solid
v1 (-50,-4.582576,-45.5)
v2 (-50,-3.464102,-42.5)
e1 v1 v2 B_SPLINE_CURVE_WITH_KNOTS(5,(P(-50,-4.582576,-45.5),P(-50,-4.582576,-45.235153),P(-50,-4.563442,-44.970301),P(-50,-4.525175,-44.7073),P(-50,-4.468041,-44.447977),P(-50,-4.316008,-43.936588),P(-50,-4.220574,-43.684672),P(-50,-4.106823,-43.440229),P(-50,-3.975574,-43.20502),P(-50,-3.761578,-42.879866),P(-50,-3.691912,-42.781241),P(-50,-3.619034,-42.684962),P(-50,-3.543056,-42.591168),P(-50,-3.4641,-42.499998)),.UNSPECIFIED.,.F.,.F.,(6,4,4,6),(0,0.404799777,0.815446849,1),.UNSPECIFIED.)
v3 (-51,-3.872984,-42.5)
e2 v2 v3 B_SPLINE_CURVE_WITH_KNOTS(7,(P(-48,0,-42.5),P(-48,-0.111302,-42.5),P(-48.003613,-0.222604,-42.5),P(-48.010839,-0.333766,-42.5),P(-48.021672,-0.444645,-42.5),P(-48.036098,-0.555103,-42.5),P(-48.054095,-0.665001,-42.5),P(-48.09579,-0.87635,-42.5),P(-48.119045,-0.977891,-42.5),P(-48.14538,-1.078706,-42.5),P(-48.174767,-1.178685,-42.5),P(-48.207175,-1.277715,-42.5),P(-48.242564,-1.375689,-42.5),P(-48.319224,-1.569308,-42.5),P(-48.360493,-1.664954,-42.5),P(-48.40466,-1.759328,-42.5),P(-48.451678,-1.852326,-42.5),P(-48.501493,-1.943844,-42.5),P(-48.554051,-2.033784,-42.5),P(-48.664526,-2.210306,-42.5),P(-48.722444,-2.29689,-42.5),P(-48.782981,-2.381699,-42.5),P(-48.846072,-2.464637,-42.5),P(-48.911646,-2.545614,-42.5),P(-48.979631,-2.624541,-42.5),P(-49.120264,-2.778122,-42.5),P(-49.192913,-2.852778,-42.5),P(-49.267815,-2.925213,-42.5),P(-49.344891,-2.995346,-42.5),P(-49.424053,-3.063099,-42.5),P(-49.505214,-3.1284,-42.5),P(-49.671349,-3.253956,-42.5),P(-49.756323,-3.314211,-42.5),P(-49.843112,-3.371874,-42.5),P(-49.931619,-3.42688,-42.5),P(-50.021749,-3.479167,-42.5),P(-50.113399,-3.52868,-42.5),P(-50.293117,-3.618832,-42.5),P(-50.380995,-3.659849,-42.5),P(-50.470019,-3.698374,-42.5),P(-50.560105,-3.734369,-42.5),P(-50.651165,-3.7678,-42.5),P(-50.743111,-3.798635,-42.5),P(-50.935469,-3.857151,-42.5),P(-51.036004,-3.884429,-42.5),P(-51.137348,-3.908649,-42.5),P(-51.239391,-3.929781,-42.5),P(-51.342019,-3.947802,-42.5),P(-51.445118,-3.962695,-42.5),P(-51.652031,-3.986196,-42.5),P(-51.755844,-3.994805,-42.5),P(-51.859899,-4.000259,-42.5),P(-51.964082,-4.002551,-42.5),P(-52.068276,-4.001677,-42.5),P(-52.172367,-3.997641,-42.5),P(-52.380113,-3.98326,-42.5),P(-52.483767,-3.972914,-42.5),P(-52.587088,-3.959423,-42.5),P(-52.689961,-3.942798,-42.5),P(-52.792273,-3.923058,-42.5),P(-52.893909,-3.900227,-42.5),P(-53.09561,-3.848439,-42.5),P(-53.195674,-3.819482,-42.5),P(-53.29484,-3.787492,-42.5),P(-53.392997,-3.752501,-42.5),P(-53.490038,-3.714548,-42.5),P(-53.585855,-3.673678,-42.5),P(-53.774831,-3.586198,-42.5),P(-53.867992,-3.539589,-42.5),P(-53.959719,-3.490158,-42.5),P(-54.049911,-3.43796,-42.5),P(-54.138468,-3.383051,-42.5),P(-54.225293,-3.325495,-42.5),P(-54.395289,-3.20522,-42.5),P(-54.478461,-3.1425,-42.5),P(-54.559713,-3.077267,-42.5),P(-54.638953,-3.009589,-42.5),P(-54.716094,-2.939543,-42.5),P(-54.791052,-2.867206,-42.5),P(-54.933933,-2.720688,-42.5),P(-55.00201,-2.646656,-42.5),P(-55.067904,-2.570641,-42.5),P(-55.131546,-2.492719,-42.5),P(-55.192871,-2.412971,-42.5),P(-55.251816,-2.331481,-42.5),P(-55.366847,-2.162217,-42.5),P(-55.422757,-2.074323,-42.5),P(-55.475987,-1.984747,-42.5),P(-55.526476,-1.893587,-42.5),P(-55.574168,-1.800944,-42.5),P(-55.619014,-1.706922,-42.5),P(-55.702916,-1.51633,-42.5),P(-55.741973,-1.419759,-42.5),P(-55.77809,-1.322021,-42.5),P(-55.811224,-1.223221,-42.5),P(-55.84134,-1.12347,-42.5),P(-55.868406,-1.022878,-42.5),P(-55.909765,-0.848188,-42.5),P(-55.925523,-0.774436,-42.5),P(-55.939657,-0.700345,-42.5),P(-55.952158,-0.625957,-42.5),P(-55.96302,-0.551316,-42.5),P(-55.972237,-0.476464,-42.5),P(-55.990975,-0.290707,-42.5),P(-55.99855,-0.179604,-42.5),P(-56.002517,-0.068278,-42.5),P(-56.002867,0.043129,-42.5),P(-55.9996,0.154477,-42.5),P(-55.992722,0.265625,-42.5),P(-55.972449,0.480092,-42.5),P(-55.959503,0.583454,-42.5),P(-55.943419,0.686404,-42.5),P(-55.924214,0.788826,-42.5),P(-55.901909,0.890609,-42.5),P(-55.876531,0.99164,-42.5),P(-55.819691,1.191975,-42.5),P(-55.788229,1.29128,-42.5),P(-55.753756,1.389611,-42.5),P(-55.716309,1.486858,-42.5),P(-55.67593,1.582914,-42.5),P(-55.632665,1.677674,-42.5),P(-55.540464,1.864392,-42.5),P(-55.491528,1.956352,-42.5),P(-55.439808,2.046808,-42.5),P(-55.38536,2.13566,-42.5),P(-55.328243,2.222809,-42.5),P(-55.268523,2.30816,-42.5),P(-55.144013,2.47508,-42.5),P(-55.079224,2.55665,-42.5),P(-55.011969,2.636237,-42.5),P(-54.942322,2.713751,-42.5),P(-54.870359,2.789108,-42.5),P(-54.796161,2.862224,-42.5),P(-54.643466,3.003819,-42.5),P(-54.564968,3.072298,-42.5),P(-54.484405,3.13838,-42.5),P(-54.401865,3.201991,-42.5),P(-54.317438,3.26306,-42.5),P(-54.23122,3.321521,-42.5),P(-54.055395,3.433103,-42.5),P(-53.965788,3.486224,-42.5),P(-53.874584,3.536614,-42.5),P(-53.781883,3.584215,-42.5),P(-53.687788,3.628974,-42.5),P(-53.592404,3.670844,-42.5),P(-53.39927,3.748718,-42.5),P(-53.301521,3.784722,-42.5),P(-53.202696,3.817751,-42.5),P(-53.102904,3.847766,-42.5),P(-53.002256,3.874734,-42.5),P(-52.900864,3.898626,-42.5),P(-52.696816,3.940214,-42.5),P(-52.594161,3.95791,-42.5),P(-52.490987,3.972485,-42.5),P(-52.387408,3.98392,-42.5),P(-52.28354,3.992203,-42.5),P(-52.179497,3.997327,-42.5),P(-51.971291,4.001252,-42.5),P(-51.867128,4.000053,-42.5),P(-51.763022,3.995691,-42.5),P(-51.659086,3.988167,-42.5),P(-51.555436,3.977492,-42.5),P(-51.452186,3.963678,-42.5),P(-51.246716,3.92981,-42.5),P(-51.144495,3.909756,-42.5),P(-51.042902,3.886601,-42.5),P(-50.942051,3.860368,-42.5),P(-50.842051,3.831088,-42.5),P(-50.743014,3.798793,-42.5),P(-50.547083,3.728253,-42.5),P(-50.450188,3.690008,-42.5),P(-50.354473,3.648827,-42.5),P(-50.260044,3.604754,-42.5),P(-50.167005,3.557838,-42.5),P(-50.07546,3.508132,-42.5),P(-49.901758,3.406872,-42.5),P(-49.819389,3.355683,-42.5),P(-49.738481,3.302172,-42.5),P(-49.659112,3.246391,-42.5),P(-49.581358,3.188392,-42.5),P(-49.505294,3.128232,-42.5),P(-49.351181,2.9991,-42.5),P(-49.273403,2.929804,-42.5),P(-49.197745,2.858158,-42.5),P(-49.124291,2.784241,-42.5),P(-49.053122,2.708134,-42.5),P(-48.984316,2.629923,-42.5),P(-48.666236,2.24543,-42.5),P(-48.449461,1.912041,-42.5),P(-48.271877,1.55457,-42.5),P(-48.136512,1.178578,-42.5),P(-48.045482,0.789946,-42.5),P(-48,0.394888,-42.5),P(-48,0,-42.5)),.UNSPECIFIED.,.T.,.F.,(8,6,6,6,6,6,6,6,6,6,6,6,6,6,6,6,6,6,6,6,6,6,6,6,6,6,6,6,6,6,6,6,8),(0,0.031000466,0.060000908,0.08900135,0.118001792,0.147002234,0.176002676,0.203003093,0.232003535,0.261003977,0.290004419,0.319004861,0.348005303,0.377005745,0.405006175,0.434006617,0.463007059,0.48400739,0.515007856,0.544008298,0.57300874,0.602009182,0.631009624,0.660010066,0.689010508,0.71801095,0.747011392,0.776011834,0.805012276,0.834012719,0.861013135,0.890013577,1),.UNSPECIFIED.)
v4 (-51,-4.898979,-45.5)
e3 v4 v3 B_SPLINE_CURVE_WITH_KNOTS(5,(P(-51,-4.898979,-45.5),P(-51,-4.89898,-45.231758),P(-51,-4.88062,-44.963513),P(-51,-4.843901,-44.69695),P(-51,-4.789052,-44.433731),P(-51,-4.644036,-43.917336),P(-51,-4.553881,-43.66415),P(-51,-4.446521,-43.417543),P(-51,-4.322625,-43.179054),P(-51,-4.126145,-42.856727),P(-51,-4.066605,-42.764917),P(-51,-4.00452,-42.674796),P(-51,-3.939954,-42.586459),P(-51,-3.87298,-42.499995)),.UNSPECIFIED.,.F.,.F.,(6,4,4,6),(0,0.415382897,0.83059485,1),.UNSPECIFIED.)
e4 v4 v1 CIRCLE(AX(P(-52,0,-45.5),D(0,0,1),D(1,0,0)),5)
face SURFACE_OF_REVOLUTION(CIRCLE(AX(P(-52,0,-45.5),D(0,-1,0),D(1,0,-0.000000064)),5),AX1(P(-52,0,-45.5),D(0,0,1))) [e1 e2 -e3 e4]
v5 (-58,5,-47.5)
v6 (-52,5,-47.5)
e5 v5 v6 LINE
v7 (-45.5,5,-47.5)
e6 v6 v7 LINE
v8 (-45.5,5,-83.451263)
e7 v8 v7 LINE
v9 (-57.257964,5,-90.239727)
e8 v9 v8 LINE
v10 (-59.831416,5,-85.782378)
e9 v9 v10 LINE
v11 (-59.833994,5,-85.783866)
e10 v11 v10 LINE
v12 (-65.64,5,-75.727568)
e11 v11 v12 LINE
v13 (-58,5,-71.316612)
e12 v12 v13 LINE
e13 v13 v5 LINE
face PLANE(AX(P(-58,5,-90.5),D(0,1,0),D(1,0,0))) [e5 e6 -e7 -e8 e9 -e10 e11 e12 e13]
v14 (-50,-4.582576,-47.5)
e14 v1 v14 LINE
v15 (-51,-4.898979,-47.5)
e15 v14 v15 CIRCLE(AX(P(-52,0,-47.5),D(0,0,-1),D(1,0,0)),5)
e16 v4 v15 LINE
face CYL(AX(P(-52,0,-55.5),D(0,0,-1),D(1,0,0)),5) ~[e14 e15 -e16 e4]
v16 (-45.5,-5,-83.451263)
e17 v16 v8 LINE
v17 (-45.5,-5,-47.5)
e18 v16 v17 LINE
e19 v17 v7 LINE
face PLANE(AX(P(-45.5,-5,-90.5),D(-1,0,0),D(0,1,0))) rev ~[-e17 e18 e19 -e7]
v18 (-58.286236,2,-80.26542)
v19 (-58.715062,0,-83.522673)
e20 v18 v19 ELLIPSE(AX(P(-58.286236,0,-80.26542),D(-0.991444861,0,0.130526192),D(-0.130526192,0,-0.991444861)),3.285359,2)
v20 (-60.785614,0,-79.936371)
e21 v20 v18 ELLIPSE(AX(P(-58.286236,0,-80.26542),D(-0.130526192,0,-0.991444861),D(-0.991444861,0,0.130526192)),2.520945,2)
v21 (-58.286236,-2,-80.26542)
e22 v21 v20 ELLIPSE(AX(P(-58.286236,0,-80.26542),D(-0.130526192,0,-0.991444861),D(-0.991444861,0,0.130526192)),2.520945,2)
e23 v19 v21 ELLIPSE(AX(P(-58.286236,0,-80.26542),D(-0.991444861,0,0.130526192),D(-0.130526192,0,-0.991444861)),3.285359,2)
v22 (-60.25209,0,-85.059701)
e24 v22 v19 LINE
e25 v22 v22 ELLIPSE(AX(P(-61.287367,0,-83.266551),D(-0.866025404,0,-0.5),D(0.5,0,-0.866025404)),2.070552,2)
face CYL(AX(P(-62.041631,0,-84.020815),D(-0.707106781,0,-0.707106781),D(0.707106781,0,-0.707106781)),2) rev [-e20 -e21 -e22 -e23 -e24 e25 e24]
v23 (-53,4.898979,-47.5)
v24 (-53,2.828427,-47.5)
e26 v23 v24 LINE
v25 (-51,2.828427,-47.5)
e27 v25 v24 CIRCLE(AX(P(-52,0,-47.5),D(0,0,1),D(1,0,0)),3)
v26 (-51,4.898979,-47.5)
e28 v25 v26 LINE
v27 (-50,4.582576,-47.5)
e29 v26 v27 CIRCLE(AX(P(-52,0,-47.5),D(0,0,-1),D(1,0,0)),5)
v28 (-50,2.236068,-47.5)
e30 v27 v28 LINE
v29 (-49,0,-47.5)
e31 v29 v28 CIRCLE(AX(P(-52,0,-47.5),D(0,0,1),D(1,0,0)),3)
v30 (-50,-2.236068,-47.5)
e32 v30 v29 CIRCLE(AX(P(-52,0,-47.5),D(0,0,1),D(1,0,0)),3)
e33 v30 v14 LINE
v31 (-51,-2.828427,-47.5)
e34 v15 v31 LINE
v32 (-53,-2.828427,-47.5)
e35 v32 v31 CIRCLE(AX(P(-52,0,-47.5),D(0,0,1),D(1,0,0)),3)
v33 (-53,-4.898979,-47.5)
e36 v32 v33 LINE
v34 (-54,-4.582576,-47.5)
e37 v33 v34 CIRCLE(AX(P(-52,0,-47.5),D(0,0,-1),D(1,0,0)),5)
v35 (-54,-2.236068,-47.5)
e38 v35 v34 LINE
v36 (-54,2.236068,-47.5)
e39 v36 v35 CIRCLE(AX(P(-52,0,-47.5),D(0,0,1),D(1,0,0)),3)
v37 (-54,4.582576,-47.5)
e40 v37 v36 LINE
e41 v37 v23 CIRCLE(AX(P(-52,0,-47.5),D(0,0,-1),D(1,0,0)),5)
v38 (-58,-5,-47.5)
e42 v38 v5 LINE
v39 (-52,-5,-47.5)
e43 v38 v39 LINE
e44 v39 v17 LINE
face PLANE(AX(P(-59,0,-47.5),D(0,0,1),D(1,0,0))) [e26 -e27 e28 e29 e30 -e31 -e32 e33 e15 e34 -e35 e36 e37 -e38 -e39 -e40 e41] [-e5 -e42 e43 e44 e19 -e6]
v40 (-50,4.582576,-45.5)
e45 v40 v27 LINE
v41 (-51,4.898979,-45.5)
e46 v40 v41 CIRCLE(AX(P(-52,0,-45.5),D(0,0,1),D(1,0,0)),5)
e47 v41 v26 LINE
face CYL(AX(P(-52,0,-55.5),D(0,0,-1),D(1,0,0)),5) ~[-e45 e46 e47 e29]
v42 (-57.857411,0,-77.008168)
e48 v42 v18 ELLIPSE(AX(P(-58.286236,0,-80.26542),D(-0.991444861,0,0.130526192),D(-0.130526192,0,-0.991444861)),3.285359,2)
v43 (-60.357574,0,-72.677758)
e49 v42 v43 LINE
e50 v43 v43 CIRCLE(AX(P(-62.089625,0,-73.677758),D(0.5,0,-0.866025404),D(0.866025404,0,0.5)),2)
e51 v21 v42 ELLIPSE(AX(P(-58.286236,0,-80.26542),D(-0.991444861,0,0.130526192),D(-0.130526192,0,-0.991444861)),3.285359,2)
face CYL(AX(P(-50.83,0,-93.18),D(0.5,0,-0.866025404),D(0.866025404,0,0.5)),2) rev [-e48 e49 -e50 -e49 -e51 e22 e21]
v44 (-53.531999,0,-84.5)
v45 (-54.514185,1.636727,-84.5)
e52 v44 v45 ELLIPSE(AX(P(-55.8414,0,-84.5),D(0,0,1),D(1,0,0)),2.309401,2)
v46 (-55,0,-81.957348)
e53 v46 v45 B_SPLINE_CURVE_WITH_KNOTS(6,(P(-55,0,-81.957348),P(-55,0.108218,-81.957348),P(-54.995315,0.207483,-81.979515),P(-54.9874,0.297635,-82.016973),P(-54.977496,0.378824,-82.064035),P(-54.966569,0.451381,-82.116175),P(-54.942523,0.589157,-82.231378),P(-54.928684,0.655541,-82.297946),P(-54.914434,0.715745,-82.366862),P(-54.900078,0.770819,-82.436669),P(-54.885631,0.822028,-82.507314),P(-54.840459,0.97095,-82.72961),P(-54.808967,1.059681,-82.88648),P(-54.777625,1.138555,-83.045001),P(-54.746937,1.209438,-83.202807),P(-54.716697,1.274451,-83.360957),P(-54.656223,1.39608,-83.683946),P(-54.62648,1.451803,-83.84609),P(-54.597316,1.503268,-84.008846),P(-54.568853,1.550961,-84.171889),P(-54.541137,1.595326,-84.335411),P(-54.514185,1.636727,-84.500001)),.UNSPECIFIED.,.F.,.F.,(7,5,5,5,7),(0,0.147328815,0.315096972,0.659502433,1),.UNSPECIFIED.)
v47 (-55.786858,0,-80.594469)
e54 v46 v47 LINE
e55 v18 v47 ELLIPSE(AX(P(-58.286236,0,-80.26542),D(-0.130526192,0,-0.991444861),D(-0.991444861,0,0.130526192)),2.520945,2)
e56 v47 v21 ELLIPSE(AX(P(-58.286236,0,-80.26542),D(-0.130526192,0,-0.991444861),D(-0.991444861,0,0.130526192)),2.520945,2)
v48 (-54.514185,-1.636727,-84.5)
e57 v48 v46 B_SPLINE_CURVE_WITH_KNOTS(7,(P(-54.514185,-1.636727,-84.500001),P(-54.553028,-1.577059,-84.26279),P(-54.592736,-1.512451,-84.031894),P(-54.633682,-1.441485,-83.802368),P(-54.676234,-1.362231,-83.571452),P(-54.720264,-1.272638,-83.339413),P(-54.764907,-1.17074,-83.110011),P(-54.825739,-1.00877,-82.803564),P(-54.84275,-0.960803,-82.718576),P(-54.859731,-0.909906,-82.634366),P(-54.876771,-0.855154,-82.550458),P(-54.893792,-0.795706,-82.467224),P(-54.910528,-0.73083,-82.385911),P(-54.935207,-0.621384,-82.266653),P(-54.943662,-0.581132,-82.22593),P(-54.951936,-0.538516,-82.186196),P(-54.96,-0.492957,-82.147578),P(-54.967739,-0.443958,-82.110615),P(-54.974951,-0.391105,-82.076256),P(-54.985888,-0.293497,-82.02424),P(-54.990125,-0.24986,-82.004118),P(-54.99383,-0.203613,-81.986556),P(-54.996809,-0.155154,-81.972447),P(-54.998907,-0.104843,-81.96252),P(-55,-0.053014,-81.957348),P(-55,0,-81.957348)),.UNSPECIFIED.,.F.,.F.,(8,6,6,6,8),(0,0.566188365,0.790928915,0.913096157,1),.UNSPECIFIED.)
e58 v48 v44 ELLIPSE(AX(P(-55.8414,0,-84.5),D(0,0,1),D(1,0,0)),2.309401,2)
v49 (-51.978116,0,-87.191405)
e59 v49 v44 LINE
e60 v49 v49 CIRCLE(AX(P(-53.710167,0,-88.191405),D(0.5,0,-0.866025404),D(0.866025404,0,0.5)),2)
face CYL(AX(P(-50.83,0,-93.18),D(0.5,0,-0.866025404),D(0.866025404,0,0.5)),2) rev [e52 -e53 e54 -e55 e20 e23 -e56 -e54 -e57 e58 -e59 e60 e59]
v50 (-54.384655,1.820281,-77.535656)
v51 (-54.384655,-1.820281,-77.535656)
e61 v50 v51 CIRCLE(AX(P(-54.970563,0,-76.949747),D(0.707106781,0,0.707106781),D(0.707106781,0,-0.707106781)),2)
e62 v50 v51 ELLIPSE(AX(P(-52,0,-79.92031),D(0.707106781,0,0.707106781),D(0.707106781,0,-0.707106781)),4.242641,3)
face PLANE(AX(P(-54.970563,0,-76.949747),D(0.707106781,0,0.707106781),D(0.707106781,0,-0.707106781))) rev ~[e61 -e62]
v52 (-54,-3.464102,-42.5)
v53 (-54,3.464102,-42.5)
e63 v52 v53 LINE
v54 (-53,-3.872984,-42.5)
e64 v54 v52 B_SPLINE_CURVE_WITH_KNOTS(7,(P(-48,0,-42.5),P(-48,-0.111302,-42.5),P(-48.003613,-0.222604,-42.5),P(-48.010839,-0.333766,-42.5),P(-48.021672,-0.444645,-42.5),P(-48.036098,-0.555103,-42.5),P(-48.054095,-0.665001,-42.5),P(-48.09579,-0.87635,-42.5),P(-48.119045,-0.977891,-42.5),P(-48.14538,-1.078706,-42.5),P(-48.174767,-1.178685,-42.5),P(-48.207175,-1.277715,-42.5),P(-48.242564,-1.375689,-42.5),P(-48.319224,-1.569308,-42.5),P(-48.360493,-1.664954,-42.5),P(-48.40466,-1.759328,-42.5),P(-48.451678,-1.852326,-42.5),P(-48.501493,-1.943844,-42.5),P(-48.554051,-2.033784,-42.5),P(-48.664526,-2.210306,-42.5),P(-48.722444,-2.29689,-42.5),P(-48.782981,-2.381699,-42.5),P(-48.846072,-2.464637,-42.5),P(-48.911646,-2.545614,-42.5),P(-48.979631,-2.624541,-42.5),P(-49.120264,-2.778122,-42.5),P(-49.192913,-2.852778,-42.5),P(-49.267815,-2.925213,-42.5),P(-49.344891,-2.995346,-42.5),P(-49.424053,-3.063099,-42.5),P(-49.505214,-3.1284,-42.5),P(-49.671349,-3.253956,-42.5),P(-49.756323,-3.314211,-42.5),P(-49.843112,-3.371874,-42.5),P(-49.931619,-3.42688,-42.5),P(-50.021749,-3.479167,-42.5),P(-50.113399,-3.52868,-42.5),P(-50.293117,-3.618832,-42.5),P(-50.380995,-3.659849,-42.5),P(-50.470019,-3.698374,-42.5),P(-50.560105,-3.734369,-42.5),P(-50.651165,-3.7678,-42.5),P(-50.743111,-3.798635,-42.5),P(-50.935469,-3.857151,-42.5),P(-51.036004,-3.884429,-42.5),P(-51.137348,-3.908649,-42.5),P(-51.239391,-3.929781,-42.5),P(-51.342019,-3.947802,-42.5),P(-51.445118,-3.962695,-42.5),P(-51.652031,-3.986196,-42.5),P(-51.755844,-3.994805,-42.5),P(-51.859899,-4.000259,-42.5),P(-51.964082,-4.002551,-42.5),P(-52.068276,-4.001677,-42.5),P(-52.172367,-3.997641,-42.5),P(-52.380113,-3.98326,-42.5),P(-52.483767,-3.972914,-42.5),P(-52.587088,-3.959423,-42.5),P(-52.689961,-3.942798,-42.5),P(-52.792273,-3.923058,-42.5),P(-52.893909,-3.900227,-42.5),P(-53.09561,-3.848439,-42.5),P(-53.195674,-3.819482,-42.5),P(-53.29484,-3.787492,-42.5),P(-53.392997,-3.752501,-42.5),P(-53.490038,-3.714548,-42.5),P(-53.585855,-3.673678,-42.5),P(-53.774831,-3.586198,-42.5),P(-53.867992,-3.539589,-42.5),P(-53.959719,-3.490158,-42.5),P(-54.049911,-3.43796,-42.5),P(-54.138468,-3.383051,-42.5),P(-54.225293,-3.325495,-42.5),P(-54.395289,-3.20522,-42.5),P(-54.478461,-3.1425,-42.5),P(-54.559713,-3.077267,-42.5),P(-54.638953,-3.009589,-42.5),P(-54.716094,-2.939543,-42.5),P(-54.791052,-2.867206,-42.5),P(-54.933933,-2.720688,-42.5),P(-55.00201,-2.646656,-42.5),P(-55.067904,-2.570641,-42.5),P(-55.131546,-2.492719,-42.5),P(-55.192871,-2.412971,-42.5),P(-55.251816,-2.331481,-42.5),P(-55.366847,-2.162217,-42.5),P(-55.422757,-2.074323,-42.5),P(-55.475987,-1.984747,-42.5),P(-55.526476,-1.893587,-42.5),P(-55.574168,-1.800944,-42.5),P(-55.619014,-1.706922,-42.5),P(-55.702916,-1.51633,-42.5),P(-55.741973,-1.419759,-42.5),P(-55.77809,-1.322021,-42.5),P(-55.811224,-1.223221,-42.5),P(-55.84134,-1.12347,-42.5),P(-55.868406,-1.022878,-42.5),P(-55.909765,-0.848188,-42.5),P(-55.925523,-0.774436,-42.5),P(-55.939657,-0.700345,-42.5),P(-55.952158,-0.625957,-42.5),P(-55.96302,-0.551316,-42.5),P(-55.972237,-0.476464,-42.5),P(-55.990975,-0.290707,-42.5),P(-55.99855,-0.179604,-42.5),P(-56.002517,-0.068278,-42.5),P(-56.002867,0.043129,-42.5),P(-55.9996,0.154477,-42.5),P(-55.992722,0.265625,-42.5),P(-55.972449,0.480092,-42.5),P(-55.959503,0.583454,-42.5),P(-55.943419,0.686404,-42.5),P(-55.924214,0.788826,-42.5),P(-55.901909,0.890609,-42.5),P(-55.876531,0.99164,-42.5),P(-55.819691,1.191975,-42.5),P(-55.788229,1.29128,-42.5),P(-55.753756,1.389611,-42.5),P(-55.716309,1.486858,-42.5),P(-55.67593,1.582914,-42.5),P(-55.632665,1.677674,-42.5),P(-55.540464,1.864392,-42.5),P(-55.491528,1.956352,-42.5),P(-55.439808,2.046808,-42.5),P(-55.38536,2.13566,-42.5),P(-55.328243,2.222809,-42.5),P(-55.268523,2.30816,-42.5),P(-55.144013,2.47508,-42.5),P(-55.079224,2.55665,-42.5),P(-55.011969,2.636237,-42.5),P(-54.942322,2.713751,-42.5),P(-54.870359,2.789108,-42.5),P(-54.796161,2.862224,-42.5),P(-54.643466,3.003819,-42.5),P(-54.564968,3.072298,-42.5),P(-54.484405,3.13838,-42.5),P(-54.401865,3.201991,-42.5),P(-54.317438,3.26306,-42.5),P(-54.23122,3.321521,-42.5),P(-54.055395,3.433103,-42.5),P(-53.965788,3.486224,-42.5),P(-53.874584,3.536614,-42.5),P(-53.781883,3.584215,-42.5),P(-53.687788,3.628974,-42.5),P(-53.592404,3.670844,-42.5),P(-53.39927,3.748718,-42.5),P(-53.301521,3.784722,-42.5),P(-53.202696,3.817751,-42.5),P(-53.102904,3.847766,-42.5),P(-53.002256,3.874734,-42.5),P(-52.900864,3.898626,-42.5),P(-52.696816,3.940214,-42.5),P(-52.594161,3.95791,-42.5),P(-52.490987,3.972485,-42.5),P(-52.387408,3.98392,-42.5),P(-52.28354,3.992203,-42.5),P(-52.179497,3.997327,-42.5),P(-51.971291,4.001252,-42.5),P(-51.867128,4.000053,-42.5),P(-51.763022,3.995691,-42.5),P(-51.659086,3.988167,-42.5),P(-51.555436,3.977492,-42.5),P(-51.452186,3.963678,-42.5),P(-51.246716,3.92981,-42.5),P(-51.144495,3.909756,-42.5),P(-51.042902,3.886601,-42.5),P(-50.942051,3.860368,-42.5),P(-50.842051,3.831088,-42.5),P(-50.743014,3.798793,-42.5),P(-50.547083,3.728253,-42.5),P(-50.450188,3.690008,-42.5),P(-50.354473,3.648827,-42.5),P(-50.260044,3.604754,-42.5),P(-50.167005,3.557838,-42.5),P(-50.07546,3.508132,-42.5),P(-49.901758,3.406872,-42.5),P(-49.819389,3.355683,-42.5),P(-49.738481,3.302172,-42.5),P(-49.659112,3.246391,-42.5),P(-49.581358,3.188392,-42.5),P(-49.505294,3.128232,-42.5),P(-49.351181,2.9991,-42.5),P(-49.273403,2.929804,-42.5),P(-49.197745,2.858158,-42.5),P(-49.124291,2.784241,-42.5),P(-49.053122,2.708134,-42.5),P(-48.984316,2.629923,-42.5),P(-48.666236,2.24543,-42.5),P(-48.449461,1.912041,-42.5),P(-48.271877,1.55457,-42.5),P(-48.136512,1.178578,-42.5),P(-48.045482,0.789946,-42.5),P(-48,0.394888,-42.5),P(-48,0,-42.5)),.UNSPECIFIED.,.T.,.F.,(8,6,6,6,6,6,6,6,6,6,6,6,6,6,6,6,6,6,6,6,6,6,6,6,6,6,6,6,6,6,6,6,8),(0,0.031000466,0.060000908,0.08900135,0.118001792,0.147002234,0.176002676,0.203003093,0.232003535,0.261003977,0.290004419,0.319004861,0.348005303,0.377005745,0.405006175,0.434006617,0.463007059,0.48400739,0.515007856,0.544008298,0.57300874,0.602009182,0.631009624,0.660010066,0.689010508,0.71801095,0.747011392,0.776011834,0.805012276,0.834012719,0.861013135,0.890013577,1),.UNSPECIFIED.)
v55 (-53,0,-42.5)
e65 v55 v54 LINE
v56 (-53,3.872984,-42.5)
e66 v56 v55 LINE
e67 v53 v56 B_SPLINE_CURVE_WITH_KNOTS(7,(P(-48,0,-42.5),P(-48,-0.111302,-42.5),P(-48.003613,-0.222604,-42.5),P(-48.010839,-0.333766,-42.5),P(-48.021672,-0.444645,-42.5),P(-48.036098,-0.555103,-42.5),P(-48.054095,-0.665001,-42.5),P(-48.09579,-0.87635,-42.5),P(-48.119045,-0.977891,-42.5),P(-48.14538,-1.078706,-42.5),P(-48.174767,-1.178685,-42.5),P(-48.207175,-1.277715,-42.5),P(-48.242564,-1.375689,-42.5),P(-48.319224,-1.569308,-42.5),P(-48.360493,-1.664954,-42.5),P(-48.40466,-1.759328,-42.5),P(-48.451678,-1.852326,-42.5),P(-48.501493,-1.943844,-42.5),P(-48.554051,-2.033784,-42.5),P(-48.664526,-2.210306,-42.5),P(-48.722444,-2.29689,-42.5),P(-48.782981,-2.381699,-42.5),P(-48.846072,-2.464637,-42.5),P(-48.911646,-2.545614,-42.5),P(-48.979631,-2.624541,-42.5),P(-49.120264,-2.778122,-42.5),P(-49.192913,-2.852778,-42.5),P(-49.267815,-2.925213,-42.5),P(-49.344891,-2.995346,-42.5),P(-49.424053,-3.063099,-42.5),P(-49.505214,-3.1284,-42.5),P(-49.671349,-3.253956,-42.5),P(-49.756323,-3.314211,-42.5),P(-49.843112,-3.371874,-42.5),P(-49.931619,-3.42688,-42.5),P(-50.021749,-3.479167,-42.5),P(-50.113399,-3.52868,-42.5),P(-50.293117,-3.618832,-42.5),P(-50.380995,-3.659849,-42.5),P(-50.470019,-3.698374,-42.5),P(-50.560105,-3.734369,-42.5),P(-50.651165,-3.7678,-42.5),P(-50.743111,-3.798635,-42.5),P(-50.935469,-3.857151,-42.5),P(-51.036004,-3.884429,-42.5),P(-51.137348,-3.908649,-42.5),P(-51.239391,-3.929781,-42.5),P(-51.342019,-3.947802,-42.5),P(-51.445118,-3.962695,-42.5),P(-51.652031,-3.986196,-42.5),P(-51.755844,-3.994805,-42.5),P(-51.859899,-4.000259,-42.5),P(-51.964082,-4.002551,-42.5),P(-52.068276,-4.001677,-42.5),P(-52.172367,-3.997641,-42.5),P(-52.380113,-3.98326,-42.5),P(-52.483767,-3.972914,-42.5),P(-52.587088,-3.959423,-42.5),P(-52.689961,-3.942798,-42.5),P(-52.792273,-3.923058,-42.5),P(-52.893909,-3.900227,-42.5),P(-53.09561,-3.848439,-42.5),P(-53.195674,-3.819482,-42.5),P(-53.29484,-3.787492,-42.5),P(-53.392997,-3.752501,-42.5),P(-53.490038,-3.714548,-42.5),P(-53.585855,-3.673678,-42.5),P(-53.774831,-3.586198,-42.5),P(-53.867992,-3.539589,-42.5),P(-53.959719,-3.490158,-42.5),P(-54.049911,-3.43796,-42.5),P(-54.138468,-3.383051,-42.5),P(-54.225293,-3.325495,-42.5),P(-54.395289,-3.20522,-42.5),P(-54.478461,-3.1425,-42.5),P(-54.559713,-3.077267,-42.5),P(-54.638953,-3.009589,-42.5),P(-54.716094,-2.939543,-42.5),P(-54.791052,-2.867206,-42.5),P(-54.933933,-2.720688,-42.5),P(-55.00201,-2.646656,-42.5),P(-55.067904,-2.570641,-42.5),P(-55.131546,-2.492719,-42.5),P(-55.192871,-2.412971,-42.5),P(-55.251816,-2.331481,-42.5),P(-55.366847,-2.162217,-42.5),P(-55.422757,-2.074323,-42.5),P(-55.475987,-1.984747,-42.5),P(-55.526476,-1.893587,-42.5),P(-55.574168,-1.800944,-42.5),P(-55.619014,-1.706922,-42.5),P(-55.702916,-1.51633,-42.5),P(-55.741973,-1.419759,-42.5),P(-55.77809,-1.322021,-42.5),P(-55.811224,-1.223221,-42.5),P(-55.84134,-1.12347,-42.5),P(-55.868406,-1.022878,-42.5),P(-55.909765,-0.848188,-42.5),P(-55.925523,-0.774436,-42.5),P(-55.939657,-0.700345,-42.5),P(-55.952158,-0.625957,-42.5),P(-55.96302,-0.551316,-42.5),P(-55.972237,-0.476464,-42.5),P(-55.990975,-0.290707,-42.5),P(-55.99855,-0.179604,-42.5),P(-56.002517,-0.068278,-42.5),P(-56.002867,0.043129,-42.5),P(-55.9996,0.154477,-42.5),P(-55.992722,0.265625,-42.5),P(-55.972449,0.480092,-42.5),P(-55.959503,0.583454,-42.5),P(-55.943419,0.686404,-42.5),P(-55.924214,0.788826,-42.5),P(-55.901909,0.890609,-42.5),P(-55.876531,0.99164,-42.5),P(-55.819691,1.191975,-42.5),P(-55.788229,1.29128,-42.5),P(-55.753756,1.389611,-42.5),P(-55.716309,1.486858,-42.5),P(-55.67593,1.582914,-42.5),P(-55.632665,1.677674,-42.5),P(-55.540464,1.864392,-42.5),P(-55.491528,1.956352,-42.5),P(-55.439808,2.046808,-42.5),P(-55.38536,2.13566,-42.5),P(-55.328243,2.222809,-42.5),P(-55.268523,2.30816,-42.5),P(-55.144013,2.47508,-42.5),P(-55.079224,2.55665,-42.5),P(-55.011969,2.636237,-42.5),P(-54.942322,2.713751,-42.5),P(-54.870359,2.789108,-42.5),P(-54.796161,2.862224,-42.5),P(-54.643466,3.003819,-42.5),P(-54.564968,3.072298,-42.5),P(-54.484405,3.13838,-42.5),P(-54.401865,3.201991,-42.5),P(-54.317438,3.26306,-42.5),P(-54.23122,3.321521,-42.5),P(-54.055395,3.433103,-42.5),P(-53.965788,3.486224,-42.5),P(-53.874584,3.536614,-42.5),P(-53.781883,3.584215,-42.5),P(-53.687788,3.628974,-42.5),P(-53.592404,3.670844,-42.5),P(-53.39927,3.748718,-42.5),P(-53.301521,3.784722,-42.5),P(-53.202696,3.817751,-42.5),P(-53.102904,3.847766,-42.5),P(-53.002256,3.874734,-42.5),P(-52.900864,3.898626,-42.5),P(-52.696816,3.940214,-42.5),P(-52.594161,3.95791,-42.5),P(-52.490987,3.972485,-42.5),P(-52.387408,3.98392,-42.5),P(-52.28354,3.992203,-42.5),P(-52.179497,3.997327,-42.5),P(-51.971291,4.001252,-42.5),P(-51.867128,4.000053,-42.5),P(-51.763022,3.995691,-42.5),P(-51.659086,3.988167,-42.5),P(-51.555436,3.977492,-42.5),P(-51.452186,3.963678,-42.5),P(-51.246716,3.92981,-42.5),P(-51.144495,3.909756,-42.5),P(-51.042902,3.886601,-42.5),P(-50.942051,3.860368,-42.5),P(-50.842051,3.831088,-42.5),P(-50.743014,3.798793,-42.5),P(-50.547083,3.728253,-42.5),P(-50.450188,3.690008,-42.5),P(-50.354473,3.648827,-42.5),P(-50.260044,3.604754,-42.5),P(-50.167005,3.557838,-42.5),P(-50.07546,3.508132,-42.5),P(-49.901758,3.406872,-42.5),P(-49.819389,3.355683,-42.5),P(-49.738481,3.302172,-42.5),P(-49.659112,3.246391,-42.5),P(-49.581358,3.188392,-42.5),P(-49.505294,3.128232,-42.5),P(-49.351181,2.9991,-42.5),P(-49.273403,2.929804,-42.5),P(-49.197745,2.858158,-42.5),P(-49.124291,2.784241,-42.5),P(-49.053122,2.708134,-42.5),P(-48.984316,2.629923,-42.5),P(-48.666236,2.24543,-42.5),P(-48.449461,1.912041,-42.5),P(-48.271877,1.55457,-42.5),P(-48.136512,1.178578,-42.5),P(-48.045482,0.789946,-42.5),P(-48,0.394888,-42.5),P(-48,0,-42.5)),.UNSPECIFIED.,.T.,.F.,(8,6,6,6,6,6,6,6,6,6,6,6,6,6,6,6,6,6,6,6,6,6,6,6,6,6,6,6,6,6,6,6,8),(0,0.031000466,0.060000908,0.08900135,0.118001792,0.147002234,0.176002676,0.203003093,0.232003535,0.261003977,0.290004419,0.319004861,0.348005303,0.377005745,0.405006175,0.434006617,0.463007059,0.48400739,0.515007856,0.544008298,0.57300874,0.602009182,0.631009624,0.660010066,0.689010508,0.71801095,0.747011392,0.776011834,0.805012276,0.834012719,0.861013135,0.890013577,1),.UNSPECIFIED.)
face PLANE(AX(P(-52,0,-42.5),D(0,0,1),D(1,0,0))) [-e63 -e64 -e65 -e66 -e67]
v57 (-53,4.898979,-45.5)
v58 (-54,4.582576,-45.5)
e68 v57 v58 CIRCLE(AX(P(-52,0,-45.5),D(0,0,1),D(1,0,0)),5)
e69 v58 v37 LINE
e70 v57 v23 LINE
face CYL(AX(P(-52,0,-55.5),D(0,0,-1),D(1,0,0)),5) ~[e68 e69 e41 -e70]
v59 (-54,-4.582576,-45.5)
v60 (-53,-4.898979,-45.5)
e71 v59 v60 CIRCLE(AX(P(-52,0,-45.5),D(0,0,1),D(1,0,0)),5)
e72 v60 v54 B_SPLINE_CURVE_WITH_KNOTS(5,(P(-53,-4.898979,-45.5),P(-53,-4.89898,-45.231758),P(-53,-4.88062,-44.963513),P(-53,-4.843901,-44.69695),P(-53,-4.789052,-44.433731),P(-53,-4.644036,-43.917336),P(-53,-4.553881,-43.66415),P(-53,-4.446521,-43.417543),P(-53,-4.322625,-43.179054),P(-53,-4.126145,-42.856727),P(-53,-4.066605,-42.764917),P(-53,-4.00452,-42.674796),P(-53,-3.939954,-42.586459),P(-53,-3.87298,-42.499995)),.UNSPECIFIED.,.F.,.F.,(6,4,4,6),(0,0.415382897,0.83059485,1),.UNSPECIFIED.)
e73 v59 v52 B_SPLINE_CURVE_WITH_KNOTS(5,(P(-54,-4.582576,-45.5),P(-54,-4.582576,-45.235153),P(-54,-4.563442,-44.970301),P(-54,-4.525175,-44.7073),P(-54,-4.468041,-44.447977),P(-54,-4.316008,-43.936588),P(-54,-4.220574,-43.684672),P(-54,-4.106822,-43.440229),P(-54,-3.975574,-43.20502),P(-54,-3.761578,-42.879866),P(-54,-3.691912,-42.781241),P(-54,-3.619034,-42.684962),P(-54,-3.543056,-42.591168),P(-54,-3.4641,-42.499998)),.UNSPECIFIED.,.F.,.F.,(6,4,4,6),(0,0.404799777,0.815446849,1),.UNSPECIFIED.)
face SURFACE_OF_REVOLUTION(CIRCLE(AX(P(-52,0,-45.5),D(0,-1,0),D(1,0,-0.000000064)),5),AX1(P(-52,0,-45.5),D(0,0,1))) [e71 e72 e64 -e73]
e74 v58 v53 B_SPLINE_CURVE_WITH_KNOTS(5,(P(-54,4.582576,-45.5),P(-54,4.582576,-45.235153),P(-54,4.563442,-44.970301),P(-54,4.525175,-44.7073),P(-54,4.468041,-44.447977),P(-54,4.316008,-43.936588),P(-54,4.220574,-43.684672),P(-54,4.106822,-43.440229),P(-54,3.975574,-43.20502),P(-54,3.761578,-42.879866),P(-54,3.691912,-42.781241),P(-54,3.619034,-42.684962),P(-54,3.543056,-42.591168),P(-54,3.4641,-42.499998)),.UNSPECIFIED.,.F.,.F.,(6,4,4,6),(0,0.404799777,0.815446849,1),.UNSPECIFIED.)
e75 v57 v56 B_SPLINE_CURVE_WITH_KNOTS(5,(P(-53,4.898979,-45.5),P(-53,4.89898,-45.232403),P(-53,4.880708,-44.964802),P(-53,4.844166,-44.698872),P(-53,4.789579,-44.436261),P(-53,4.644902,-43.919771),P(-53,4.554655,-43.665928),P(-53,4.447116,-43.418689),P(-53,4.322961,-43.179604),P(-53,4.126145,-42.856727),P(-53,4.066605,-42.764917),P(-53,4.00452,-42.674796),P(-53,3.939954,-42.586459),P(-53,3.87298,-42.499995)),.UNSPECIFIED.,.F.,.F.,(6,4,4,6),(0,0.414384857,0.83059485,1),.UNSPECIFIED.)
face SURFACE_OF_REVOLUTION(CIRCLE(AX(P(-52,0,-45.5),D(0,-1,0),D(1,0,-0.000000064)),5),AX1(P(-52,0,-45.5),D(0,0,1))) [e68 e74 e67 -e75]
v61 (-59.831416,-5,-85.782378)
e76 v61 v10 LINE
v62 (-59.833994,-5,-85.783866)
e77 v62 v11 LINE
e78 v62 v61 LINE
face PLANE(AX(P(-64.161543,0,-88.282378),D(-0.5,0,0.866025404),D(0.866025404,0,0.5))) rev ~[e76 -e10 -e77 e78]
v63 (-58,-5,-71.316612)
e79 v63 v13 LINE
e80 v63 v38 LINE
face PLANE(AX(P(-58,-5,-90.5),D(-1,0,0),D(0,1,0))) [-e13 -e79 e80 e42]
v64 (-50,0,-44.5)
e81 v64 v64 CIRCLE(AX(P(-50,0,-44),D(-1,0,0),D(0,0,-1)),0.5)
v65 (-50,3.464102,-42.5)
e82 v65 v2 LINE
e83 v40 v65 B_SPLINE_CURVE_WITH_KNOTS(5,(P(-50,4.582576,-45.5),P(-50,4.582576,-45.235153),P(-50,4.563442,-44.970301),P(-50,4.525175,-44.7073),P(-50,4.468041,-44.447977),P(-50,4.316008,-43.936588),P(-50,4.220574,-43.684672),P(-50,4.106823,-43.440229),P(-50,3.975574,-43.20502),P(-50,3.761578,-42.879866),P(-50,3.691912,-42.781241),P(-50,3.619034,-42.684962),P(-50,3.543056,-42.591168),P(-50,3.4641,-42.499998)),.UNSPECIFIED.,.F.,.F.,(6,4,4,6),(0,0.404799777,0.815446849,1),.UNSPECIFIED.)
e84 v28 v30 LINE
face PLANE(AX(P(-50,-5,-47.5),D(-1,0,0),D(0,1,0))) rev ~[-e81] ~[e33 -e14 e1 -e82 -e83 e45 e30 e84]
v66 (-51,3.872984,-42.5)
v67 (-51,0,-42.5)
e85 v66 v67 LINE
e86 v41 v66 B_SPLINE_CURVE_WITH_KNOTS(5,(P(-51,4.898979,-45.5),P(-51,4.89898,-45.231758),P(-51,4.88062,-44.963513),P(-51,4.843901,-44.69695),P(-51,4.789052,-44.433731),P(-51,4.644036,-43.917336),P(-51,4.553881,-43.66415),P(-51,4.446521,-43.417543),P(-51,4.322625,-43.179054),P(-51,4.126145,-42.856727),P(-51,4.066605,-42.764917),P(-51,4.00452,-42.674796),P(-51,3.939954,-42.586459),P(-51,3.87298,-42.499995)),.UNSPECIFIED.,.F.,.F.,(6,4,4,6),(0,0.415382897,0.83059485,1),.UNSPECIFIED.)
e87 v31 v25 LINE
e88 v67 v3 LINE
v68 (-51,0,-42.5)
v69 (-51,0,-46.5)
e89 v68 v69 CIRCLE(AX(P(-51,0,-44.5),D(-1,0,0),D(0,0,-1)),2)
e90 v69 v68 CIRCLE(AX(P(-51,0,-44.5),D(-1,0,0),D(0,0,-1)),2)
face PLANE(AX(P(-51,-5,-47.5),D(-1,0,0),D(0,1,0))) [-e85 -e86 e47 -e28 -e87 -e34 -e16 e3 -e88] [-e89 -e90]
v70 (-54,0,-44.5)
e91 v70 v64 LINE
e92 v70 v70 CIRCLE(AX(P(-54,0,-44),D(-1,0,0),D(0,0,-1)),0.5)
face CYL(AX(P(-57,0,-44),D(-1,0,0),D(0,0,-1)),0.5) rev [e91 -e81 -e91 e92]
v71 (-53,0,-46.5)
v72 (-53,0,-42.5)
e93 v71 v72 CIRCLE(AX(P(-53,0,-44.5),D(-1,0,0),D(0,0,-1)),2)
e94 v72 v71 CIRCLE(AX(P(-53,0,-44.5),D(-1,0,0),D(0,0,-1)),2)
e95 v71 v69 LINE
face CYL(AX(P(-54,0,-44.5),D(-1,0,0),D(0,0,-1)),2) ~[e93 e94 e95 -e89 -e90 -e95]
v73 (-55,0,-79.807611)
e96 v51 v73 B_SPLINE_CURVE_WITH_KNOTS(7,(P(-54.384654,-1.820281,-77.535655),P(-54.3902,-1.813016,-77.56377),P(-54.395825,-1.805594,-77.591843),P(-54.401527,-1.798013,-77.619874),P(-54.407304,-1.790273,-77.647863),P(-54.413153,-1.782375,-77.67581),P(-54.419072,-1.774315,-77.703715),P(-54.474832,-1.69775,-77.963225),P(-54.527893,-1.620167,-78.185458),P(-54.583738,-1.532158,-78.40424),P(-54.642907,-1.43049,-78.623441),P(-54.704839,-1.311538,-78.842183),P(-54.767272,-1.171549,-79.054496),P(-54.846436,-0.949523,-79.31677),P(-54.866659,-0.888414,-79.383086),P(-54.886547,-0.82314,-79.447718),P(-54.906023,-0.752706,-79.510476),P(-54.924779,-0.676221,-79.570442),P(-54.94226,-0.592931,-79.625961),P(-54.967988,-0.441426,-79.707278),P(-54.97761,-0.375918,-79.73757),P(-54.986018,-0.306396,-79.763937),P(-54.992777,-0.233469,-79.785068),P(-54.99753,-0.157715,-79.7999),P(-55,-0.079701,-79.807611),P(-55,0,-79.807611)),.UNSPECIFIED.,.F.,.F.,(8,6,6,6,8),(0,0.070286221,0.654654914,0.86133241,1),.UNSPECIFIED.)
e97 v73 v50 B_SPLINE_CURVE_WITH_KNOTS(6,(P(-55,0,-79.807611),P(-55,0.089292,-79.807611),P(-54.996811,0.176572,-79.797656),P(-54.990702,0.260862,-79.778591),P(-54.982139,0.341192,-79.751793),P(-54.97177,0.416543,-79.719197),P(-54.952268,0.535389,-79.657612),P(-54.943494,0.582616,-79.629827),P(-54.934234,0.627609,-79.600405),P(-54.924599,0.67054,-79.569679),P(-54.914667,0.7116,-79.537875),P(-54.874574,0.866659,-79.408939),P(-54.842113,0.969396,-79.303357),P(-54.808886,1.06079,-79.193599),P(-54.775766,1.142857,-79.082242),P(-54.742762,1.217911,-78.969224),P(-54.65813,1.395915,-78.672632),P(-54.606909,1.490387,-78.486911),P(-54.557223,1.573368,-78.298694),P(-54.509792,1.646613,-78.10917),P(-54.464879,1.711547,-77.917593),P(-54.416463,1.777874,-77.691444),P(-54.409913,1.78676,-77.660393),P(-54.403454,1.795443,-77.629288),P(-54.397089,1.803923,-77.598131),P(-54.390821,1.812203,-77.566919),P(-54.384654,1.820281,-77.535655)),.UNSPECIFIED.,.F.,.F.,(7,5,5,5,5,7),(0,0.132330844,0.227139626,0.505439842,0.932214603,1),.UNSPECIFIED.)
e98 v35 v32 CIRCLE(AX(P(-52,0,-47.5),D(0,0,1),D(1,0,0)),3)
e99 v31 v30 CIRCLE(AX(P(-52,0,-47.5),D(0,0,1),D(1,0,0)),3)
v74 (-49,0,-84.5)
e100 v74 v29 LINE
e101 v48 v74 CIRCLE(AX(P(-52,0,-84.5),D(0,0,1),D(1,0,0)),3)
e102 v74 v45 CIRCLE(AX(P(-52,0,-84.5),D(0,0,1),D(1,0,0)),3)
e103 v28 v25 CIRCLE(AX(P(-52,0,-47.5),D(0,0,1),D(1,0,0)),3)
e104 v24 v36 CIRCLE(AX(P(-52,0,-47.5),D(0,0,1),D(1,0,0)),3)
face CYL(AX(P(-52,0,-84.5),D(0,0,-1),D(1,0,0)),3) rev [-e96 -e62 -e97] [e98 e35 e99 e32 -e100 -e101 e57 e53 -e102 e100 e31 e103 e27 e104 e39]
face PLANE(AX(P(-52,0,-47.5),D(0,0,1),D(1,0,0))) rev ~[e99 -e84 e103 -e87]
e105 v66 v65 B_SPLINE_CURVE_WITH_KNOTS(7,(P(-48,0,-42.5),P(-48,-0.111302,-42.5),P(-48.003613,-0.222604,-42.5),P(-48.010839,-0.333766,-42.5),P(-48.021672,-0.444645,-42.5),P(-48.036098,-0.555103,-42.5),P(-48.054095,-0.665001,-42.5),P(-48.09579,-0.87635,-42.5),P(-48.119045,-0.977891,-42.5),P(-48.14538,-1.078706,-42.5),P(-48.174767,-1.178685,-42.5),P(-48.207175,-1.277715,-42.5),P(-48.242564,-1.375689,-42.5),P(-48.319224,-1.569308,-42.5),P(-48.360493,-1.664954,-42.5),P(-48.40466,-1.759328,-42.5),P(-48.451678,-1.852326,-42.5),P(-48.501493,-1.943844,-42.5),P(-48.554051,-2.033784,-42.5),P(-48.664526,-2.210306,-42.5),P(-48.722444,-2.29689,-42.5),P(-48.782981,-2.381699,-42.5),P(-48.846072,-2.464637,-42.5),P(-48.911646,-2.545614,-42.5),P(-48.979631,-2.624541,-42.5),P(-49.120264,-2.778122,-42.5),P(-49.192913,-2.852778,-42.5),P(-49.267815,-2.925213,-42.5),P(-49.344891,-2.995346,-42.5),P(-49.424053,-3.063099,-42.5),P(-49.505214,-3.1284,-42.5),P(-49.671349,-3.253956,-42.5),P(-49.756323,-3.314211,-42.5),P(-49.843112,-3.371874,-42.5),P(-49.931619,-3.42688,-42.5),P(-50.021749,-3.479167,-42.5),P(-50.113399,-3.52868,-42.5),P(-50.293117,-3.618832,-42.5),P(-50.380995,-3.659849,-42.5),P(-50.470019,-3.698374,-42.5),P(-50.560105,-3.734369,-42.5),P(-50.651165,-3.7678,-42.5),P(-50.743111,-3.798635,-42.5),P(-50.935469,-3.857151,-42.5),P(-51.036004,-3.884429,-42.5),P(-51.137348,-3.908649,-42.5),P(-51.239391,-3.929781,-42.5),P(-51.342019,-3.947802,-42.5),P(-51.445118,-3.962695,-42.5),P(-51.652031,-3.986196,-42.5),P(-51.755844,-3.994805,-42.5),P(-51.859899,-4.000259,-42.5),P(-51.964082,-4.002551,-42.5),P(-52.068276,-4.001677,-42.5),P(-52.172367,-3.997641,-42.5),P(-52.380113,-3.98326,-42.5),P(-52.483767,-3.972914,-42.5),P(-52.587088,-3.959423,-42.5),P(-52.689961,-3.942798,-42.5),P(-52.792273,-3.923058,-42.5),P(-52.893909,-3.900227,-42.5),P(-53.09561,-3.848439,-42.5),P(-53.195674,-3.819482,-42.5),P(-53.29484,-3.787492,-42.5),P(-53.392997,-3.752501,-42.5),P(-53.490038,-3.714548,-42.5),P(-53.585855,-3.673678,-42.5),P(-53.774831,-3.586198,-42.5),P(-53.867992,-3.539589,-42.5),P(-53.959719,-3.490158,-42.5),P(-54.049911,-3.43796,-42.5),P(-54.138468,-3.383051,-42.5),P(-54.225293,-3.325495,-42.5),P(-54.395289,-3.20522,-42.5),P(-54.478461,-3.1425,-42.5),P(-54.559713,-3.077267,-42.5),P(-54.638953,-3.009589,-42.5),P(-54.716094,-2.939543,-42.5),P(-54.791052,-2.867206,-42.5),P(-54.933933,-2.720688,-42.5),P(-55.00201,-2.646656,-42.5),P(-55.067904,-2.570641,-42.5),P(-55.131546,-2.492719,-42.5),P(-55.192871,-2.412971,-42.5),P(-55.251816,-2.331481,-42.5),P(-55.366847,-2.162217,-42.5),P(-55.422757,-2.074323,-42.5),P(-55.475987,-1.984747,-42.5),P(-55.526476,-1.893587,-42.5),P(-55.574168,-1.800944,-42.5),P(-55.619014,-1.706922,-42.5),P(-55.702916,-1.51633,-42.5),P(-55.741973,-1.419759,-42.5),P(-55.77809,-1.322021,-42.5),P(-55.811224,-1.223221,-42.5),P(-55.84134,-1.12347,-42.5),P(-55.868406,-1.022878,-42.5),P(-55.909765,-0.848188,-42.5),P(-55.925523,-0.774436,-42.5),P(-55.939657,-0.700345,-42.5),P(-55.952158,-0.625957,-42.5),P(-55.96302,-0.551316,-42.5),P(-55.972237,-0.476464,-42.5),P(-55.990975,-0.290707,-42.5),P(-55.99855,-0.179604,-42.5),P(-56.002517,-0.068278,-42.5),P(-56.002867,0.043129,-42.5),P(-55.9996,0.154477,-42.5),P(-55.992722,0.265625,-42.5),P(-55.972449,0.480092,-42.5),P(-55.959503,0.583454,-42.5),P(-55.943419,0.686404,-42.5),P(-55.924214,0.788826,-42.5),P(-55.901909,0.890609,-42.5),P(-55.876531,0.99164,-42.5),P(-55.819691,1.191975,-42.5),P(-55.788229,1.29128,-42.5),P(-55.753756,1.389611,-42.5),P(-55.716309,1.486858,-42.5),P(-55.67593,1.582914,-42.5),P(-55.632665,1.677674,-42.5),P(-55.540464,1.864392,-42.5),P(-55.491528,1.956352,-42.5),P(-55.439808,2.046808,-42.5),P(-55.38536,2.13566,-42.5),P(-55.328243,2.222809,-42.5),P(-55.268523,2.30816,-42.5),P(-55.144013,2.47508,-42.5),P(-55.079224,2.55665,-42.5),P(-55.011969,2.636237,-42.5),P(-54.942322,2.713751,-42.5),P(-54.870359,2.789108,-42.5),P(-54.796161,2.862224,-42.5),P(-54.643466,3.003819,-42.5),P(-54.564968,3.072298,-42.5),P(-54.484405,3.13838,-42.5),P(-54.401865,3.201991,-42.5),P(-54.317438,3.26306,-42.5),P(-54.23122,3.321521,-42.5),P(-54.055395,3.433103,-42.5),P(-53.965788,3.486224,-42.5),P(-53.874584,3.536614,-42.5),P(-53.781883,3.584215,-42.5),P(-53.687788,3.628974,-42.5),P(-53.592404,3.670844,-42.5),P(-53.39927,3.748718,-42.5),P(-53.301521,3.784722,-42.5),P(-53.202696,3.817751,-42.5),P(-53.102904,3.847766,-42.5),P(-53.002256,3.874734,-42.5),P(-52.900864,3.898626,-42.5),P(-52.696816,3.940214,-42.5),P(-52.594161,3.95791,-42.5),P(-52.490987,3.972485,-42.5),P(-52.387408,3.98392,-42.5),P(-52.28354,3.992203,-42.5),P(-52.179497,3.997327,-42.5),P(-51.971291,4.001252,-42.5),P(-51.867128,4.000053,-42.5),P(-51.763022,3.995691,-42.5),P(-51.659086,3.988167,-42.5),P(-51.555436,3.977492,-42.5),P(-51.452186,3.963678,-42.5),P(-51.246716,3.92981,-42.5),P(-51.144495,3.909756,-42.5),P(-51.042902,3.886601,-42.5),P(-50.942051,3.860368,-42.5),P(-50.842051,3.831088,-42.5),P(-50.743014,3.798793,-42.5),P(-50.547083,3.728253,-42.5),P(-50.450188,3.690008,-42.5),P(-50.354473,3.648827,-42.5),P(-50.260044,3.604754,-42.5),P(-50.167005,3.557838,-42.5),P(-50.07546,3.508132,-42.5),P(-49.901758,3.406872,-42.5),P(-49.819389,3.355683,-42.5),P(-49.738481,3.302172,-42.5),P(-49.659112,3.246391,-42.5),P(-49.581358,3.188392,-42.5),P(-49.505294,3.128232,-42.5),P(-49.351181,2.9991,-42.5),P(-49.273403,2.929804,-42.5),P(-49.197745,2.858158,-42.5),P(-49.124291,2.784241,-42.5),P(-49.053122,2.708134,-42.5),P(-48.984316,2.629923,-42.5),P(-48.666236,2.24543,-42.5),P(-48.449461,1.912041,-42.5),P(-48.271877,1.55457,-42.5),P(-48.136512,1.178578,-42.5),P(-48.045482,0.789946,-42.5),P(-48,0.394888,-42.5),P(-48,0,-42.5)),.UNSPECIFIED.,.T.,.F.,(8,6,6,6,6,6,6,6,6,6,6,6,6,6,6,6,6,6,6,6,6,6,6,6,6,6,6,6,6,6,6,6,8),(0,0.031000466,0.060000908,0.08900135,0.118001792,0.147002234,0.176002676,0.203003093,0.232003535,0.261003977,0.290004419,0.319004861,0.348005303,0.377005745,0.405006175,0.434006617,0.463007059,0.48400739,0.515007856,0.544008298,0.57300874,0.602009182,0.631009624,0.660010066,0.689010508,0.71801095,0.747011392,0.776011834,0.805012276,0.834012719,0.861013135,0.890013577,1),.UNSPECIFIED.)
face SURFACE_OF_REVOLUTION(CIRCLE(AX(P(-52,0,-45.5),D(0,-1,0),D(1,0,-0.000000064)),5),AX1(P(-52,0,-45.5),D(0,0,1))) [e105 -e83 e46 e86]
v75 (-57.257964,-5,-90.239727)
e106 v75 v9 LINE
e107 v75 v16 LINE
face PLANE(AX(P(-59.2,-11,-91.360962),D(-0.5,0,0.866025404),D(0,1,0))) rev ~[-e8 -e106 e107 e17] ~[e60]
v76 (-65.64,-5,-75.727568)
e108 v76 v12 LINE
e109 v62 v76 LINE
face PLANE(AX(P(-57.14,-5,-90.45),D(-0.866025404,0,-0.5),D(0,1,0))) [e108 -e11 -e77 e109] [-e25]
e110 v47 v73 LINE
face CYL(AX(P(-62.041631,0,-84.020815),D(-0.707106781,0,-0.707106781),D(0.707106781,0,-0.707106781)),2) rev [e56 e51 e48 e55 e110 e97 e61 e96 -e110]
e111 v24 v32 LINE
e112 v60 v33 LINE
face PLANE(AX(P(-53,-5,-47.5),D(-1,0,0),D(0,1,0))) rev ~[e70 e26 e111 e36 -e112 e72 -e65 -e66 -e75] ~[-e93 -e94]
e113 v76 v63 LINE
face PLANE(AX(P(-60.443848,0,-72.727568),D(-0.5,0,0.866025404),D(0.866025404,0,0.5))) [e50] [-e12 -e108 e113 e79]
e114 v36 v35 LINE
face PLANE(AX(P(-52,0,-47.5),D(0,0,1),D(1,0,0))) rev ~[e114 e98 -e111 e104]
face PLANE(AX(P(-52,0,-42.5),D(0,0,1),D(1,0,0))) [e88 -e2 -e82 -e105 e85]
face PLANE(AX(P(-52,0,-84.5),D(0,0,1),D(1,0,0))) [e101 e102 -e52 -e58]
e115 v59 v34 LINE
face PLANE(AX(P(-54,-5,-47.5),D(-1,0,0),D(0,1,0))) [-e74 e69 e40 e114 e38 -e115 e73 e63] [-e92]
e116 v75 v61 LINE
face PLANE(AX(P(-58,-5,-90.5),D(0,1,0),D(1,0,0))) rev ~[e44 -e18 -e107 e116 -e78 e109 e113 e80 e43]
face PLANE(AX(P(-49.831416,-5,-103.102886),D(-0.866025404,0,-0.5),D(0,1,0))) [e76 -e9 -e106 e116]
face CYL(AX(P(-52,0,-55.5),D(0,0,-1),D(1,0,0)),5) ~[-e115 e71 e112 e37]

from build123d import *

# Parameters (mm, degrees)
BOX139_W                    = 15
BOX139_H                    = 21
BOX139_DEPTH                = 23
BOX139_PLACEMENT_ANGLE      = 60
CYLINDER260_R               = 2
CYLINDER260_DEPTH           = 46
CYLINDER260_PLACEMENT_ANGLE = 330
CYLINDER227_R               = 2
CYLINDER227_DEPTH           = 10
CYLINDER227_PLACEMENT_ANGLE = 45
CYLINDER224_R               = 3
CYLINDER224_DEPTH           = 37
CYLINDER222_R               = 0.5
CYLINDER222_DEPTH           = 10
CYLINDER219_R               = 2
CYLINDER219_DEPTH           = 4
CYLINDER223_R               = 3
CYLINDER223_DEPTH           = 10
BOX110_W                    = 10
BOX110_H                    = 10
BOX110_DEPTH                = 10
BOX108_W                    = 2
BOX108_H                    = 10
BOX108_DEPTH                = 10
BOX109_W                    = 10
BOX109_H                    = 10
BOX109_DEPTH                = 10
CYLINDER221_R               = 5
CYLINDER221_DEPTH           = 10
CYLINDER220_R               = 5
CYLINDER220_DEPTH           = 10
BOX101_W                    = 10
BOX101_H                    = 10
BOX101_DEPTH                = 20
BOX101_PLACEMENT_ANGLE      = 330
BOX100_W                    = 12
BOX100_H                    = 10
BOX100_DEPTH                = 17
BOX100_PLACEMENT_ANGLE      = 30
BOX098_W                    = 12.5
BOX098_H                    = 10
BOX098_DEPTH                = 43


with BuildPart() as cube139:
    # Box139 → Box139 (new body)
    with BuildSketch(Plane.XY):
        with Locations((7.5, 10.5)):
            Rectangle(BOX139_W, BOX139_H)
    extrude(amount=BOX139_DEPTH)


with BuildPart() as cube139_1:
    # Box139 placement: moved
    add(cube139.part.moved(Location((-59.2, -11, -91.360962))).rotate(Axis((-59.2, -11, -91.360962), (0, 1, 0)), BOX139_PLACEMENT_ANGLE))


with BuildPart() as cylinder260:
    # Cylinder260 → Cylinder260 (new body)
    with BuildSketch(Plane.XY):
        Circle(CYLINDER260_R)
    extrude(amount=CYLINDER260_DEPTH)


with BuildPart() as cylinder260_1:
    # Cylinder260 placement: moved
    add(cylinder260.part.moved(Location((-50.83, 0, -93.18))).rotate(Axis((-50.83, 0, -93.18), (0, 1, 0)), CYLINDER260_PLACEMENT_ANGLE))


with BuildPart() as cylinder227:
    # Cylinder227 → Cylinder227 (new body)
    with BuildSketch(Plane.XY):
        Circle(CYLINDER227_R)
    extrude(amount=CYLINDER227_DEPTH)


with BuildPart() as cylinder227_1:
    # Cylinder227 placement: moved
    add(cylinder227.part.moved(Location((-62.041631, 0, -84.020815))).rotate(Axis((-62.041631, 0, -84.020815), (0, 1, 0)), CYLINDER227_PLACEMENT_ANGLE))


with BuildPart() as cylinder224:
    # Cylinder224 → Cylinder224 (new body)
    with BuildSketch(Plane(origin=(-52, 0, -84.5), x_dir=(1, 0, 0), z_dir=(0, 0, 1))):
        Circle(CYLINDER224_R)
    extrude(amount=CYLINDER224_DEPTH)


with BuildPart() as cylinder222:
    # Cylinder222 → Cylinder222 (new body)
    with BuildSketch(Plane(origin=(-5, 0, -7), x_dir=(0, 0, -1), z_dir=(1, 0, 0))):
        Circle(CYLINDER222_R)
    extrude(amount=CYLINDER222_DEPTH)


with BuildPart() as cylinder219:
    # Cylinder219 → Cylinder219 (new body)
    with BuildSketch(Plane(origin=(-2, -50, 1), x_dir=(0, 0, -1), z_dir=(1, 0, 0))):
        Circle(CYLINDER219_R)
    extrude(amount=CYLINDER219_DEPTH)


with BuildPart() as cylinder223:
    # Cylinder223 → Cylinder223 (new body)
    with BuildSketch(Plane(origin=(0, -50, -12), x_dir=(1, 0, 0), z_dir=(0, 0, 1))):
        Circle(CYLINDER223_R)
    extrude(amount=CYLINDER223_DEPTH)


with BuildPart() as cube110:
    # Box110 → Box110 (new body)
    with BuildSketch(Plane(origin=(-12, -55, -2), x_dir=(1, 0, 0), z_dir=(0, 0, 1))):
        with Locations((5, 5)):
            Rectangle(BOX110_W, BOX110_H)
    extrude(amount=BOX110_DEPTH)


with BuildPart() as cube108:
    # Box108 → Box108 (new body)
    with BuildSketch(Plane(origin=(-1, -55, -2), x_dir=(1, 0, 0), z_dir=(0, 0, 1))):
        with Locations((1, 5)):
            Rectangle(BOX108_W, BOX108_H)
    extrude(amount=BOX108_DEPTH)


with BuildPart() as cube109:
    # Box109 → Box109 (new body)
    with BuildSketch(Plane(origin=(2, -55, -2), x_dir=(1, 0, 0), z_dir=(0, 0, 1))):
        with Locations((5, 5)):
            Rectangle(BOX109_W, BOX109_H)
    extrude(amount=BOX109_DEPTH)


with BuildPart() as cylinder221:
    # Cylinder221 → Cylinder221 (new body)
    with BuildSketch(Plane(origin=(0, -50, -10), x_dir=(1, 0, 0), z_dir=(0, 0, 1))):
        Circle(CYLINDER221_R)
    extrude(amount=CYLINDER221_DEPTH)


with BuildPart() as sphere045:
    # Sphere045 → Sphere045 (revolve)
    with BuildSketch(Plane.XZ.offset(50)):
        with BuildLine():
            ThreePointArc((5, 0), (3.535534, 3.535534), (0, 5))
            Line((0, 5), (0, 0))
            Line((0, 0), (5, 0))
        make_face()
    revolve(axis=Axis((0, -50, 0), (0, 0, 1)))


with BuildPart() as cut204006013:
    # Cylinder220 → Cylinder220 (new body)
    with BuildSketch(Plane(origin=(0, -50, -7), x_dir=(1, 0, 0), z_dir=(0, 0, 1))):
        Circle(CYLINDER220_R)
    extrude(amount=CYLINDER220_DEPTH)

    # Common038: intersect Sphere045
    add(sphere045.part, mode=Mode.INTERSECT)

    # Fusion005077020006: union Cylinder221
    add(cylinder221.part)

    # Cut204006012: cut Cube109
    add(cube109.part, mode=Mode.SUBTRACT)

    # Cut204006014: cut Cube108
    add(cube108.part, mode=Mode.SUBTRACT)

    # Cut204006015: cut Cube110
    add(cube110.part, mode=Mode.SUBTRACT)

    # Cut204006011: cut Cylinder223
    add(cylinder223.part, mode=Mode.SUBTRACT)

    # Fusion005077020005: union Cylinder219
    add(cylinder219.part)


with BuildPart() as cut204006013_1:
    # Fusion005077020007 placement: moved
    add(cut204006013.part.moved(Location((0, 50, -8.5))))

    # Cut204006013: cut Cylinder222
    add(cylinder222.part, mode=Mode.SUBTRACT)


with BuildPart() as cut204006013_2:
    # Cut204006013 placement: moved
    add(cut204006013_1.part.moved(Location((-52, 0, -37))))


with BuildPart() as cube101:
    # Box101 → Box101 (new body)
    with BuildSketch(Plane.XY):
        with Locations((5, 5)):
            Rectangle(BOX101_W, BOX101_H)
    extrude(amount=BOX101_DEPTH)


with BuildPart() as cube101_1:
    # Box101 placement: moved
    add(cube101.part.moved(Location((-168.49167, -5, -108.102886))).rotate(Axis((-168.49167, -5, -108.102886), (0, 1, 0)), BOX101_PLACEMENT_ANGLE))


with BuildPart() as cube100:
    # Box100 → Box100 (new body)
    with BuildSketch(Plane.XY):
        with Locations((6, 5)):
            Rectangle(BOX100_W, BOX100_H)
    extrude(amount=BOX100_DEPTH)


with BuildPart() as cube100_1:
    # Box100 placement: moved
    add(cube100.part.moved(Location((-167.14, -5, -90.45))).rotate(Axis((-167.14, -5, -90.45), (0, -1, 0)), BOX100_PLACEMENT_ANGLE))


with BuildPart() as cut204006069001:
    # Box098 → Box098 (new body)
    with BuildSketch(Plane(origin=(-168, -5, -90.5), x_dir=(1, 0, 0), z_dir=(0, 0, 1))):
        with Locations((6.25, 5)):
            Rectangle(BOX098_W, BOX098_H)
    extrude(amount=BOX098_DEPTH)

    # Fusion005077020: union Cube100
    add(cube100_1.part)

    # Cut204006: cut Cube101
    add(cube101_1.part, mode=Mode.SUBTRACT)


with BuildPart() as cut204006069001_1:
    # Cut204006001 placement: moved
    add(cut204006069001.part.moved(Location((110, 0, 0))))

    # Fusion005077020009: union Cut204006013
    add(cut204006013_2.part)

    # Cut204006018: cut Cylinder224
    add(cylinder224.part, mode=Mode.SUBTRACT)

    # Cut204006019: cut Cylinder227
    add(cylinder227_1.part, mode=Mode.SUBTRACT)

    # Cut204006067: cut Cylinder260
    add(cylinder260_1.part, mode=Mode.SUBTRACT)

    # Cut204006069: cut Cube139
    add(cube139_1.part, mode=Mode.SUBTRACT)


solid = cut204006069001_1.part
